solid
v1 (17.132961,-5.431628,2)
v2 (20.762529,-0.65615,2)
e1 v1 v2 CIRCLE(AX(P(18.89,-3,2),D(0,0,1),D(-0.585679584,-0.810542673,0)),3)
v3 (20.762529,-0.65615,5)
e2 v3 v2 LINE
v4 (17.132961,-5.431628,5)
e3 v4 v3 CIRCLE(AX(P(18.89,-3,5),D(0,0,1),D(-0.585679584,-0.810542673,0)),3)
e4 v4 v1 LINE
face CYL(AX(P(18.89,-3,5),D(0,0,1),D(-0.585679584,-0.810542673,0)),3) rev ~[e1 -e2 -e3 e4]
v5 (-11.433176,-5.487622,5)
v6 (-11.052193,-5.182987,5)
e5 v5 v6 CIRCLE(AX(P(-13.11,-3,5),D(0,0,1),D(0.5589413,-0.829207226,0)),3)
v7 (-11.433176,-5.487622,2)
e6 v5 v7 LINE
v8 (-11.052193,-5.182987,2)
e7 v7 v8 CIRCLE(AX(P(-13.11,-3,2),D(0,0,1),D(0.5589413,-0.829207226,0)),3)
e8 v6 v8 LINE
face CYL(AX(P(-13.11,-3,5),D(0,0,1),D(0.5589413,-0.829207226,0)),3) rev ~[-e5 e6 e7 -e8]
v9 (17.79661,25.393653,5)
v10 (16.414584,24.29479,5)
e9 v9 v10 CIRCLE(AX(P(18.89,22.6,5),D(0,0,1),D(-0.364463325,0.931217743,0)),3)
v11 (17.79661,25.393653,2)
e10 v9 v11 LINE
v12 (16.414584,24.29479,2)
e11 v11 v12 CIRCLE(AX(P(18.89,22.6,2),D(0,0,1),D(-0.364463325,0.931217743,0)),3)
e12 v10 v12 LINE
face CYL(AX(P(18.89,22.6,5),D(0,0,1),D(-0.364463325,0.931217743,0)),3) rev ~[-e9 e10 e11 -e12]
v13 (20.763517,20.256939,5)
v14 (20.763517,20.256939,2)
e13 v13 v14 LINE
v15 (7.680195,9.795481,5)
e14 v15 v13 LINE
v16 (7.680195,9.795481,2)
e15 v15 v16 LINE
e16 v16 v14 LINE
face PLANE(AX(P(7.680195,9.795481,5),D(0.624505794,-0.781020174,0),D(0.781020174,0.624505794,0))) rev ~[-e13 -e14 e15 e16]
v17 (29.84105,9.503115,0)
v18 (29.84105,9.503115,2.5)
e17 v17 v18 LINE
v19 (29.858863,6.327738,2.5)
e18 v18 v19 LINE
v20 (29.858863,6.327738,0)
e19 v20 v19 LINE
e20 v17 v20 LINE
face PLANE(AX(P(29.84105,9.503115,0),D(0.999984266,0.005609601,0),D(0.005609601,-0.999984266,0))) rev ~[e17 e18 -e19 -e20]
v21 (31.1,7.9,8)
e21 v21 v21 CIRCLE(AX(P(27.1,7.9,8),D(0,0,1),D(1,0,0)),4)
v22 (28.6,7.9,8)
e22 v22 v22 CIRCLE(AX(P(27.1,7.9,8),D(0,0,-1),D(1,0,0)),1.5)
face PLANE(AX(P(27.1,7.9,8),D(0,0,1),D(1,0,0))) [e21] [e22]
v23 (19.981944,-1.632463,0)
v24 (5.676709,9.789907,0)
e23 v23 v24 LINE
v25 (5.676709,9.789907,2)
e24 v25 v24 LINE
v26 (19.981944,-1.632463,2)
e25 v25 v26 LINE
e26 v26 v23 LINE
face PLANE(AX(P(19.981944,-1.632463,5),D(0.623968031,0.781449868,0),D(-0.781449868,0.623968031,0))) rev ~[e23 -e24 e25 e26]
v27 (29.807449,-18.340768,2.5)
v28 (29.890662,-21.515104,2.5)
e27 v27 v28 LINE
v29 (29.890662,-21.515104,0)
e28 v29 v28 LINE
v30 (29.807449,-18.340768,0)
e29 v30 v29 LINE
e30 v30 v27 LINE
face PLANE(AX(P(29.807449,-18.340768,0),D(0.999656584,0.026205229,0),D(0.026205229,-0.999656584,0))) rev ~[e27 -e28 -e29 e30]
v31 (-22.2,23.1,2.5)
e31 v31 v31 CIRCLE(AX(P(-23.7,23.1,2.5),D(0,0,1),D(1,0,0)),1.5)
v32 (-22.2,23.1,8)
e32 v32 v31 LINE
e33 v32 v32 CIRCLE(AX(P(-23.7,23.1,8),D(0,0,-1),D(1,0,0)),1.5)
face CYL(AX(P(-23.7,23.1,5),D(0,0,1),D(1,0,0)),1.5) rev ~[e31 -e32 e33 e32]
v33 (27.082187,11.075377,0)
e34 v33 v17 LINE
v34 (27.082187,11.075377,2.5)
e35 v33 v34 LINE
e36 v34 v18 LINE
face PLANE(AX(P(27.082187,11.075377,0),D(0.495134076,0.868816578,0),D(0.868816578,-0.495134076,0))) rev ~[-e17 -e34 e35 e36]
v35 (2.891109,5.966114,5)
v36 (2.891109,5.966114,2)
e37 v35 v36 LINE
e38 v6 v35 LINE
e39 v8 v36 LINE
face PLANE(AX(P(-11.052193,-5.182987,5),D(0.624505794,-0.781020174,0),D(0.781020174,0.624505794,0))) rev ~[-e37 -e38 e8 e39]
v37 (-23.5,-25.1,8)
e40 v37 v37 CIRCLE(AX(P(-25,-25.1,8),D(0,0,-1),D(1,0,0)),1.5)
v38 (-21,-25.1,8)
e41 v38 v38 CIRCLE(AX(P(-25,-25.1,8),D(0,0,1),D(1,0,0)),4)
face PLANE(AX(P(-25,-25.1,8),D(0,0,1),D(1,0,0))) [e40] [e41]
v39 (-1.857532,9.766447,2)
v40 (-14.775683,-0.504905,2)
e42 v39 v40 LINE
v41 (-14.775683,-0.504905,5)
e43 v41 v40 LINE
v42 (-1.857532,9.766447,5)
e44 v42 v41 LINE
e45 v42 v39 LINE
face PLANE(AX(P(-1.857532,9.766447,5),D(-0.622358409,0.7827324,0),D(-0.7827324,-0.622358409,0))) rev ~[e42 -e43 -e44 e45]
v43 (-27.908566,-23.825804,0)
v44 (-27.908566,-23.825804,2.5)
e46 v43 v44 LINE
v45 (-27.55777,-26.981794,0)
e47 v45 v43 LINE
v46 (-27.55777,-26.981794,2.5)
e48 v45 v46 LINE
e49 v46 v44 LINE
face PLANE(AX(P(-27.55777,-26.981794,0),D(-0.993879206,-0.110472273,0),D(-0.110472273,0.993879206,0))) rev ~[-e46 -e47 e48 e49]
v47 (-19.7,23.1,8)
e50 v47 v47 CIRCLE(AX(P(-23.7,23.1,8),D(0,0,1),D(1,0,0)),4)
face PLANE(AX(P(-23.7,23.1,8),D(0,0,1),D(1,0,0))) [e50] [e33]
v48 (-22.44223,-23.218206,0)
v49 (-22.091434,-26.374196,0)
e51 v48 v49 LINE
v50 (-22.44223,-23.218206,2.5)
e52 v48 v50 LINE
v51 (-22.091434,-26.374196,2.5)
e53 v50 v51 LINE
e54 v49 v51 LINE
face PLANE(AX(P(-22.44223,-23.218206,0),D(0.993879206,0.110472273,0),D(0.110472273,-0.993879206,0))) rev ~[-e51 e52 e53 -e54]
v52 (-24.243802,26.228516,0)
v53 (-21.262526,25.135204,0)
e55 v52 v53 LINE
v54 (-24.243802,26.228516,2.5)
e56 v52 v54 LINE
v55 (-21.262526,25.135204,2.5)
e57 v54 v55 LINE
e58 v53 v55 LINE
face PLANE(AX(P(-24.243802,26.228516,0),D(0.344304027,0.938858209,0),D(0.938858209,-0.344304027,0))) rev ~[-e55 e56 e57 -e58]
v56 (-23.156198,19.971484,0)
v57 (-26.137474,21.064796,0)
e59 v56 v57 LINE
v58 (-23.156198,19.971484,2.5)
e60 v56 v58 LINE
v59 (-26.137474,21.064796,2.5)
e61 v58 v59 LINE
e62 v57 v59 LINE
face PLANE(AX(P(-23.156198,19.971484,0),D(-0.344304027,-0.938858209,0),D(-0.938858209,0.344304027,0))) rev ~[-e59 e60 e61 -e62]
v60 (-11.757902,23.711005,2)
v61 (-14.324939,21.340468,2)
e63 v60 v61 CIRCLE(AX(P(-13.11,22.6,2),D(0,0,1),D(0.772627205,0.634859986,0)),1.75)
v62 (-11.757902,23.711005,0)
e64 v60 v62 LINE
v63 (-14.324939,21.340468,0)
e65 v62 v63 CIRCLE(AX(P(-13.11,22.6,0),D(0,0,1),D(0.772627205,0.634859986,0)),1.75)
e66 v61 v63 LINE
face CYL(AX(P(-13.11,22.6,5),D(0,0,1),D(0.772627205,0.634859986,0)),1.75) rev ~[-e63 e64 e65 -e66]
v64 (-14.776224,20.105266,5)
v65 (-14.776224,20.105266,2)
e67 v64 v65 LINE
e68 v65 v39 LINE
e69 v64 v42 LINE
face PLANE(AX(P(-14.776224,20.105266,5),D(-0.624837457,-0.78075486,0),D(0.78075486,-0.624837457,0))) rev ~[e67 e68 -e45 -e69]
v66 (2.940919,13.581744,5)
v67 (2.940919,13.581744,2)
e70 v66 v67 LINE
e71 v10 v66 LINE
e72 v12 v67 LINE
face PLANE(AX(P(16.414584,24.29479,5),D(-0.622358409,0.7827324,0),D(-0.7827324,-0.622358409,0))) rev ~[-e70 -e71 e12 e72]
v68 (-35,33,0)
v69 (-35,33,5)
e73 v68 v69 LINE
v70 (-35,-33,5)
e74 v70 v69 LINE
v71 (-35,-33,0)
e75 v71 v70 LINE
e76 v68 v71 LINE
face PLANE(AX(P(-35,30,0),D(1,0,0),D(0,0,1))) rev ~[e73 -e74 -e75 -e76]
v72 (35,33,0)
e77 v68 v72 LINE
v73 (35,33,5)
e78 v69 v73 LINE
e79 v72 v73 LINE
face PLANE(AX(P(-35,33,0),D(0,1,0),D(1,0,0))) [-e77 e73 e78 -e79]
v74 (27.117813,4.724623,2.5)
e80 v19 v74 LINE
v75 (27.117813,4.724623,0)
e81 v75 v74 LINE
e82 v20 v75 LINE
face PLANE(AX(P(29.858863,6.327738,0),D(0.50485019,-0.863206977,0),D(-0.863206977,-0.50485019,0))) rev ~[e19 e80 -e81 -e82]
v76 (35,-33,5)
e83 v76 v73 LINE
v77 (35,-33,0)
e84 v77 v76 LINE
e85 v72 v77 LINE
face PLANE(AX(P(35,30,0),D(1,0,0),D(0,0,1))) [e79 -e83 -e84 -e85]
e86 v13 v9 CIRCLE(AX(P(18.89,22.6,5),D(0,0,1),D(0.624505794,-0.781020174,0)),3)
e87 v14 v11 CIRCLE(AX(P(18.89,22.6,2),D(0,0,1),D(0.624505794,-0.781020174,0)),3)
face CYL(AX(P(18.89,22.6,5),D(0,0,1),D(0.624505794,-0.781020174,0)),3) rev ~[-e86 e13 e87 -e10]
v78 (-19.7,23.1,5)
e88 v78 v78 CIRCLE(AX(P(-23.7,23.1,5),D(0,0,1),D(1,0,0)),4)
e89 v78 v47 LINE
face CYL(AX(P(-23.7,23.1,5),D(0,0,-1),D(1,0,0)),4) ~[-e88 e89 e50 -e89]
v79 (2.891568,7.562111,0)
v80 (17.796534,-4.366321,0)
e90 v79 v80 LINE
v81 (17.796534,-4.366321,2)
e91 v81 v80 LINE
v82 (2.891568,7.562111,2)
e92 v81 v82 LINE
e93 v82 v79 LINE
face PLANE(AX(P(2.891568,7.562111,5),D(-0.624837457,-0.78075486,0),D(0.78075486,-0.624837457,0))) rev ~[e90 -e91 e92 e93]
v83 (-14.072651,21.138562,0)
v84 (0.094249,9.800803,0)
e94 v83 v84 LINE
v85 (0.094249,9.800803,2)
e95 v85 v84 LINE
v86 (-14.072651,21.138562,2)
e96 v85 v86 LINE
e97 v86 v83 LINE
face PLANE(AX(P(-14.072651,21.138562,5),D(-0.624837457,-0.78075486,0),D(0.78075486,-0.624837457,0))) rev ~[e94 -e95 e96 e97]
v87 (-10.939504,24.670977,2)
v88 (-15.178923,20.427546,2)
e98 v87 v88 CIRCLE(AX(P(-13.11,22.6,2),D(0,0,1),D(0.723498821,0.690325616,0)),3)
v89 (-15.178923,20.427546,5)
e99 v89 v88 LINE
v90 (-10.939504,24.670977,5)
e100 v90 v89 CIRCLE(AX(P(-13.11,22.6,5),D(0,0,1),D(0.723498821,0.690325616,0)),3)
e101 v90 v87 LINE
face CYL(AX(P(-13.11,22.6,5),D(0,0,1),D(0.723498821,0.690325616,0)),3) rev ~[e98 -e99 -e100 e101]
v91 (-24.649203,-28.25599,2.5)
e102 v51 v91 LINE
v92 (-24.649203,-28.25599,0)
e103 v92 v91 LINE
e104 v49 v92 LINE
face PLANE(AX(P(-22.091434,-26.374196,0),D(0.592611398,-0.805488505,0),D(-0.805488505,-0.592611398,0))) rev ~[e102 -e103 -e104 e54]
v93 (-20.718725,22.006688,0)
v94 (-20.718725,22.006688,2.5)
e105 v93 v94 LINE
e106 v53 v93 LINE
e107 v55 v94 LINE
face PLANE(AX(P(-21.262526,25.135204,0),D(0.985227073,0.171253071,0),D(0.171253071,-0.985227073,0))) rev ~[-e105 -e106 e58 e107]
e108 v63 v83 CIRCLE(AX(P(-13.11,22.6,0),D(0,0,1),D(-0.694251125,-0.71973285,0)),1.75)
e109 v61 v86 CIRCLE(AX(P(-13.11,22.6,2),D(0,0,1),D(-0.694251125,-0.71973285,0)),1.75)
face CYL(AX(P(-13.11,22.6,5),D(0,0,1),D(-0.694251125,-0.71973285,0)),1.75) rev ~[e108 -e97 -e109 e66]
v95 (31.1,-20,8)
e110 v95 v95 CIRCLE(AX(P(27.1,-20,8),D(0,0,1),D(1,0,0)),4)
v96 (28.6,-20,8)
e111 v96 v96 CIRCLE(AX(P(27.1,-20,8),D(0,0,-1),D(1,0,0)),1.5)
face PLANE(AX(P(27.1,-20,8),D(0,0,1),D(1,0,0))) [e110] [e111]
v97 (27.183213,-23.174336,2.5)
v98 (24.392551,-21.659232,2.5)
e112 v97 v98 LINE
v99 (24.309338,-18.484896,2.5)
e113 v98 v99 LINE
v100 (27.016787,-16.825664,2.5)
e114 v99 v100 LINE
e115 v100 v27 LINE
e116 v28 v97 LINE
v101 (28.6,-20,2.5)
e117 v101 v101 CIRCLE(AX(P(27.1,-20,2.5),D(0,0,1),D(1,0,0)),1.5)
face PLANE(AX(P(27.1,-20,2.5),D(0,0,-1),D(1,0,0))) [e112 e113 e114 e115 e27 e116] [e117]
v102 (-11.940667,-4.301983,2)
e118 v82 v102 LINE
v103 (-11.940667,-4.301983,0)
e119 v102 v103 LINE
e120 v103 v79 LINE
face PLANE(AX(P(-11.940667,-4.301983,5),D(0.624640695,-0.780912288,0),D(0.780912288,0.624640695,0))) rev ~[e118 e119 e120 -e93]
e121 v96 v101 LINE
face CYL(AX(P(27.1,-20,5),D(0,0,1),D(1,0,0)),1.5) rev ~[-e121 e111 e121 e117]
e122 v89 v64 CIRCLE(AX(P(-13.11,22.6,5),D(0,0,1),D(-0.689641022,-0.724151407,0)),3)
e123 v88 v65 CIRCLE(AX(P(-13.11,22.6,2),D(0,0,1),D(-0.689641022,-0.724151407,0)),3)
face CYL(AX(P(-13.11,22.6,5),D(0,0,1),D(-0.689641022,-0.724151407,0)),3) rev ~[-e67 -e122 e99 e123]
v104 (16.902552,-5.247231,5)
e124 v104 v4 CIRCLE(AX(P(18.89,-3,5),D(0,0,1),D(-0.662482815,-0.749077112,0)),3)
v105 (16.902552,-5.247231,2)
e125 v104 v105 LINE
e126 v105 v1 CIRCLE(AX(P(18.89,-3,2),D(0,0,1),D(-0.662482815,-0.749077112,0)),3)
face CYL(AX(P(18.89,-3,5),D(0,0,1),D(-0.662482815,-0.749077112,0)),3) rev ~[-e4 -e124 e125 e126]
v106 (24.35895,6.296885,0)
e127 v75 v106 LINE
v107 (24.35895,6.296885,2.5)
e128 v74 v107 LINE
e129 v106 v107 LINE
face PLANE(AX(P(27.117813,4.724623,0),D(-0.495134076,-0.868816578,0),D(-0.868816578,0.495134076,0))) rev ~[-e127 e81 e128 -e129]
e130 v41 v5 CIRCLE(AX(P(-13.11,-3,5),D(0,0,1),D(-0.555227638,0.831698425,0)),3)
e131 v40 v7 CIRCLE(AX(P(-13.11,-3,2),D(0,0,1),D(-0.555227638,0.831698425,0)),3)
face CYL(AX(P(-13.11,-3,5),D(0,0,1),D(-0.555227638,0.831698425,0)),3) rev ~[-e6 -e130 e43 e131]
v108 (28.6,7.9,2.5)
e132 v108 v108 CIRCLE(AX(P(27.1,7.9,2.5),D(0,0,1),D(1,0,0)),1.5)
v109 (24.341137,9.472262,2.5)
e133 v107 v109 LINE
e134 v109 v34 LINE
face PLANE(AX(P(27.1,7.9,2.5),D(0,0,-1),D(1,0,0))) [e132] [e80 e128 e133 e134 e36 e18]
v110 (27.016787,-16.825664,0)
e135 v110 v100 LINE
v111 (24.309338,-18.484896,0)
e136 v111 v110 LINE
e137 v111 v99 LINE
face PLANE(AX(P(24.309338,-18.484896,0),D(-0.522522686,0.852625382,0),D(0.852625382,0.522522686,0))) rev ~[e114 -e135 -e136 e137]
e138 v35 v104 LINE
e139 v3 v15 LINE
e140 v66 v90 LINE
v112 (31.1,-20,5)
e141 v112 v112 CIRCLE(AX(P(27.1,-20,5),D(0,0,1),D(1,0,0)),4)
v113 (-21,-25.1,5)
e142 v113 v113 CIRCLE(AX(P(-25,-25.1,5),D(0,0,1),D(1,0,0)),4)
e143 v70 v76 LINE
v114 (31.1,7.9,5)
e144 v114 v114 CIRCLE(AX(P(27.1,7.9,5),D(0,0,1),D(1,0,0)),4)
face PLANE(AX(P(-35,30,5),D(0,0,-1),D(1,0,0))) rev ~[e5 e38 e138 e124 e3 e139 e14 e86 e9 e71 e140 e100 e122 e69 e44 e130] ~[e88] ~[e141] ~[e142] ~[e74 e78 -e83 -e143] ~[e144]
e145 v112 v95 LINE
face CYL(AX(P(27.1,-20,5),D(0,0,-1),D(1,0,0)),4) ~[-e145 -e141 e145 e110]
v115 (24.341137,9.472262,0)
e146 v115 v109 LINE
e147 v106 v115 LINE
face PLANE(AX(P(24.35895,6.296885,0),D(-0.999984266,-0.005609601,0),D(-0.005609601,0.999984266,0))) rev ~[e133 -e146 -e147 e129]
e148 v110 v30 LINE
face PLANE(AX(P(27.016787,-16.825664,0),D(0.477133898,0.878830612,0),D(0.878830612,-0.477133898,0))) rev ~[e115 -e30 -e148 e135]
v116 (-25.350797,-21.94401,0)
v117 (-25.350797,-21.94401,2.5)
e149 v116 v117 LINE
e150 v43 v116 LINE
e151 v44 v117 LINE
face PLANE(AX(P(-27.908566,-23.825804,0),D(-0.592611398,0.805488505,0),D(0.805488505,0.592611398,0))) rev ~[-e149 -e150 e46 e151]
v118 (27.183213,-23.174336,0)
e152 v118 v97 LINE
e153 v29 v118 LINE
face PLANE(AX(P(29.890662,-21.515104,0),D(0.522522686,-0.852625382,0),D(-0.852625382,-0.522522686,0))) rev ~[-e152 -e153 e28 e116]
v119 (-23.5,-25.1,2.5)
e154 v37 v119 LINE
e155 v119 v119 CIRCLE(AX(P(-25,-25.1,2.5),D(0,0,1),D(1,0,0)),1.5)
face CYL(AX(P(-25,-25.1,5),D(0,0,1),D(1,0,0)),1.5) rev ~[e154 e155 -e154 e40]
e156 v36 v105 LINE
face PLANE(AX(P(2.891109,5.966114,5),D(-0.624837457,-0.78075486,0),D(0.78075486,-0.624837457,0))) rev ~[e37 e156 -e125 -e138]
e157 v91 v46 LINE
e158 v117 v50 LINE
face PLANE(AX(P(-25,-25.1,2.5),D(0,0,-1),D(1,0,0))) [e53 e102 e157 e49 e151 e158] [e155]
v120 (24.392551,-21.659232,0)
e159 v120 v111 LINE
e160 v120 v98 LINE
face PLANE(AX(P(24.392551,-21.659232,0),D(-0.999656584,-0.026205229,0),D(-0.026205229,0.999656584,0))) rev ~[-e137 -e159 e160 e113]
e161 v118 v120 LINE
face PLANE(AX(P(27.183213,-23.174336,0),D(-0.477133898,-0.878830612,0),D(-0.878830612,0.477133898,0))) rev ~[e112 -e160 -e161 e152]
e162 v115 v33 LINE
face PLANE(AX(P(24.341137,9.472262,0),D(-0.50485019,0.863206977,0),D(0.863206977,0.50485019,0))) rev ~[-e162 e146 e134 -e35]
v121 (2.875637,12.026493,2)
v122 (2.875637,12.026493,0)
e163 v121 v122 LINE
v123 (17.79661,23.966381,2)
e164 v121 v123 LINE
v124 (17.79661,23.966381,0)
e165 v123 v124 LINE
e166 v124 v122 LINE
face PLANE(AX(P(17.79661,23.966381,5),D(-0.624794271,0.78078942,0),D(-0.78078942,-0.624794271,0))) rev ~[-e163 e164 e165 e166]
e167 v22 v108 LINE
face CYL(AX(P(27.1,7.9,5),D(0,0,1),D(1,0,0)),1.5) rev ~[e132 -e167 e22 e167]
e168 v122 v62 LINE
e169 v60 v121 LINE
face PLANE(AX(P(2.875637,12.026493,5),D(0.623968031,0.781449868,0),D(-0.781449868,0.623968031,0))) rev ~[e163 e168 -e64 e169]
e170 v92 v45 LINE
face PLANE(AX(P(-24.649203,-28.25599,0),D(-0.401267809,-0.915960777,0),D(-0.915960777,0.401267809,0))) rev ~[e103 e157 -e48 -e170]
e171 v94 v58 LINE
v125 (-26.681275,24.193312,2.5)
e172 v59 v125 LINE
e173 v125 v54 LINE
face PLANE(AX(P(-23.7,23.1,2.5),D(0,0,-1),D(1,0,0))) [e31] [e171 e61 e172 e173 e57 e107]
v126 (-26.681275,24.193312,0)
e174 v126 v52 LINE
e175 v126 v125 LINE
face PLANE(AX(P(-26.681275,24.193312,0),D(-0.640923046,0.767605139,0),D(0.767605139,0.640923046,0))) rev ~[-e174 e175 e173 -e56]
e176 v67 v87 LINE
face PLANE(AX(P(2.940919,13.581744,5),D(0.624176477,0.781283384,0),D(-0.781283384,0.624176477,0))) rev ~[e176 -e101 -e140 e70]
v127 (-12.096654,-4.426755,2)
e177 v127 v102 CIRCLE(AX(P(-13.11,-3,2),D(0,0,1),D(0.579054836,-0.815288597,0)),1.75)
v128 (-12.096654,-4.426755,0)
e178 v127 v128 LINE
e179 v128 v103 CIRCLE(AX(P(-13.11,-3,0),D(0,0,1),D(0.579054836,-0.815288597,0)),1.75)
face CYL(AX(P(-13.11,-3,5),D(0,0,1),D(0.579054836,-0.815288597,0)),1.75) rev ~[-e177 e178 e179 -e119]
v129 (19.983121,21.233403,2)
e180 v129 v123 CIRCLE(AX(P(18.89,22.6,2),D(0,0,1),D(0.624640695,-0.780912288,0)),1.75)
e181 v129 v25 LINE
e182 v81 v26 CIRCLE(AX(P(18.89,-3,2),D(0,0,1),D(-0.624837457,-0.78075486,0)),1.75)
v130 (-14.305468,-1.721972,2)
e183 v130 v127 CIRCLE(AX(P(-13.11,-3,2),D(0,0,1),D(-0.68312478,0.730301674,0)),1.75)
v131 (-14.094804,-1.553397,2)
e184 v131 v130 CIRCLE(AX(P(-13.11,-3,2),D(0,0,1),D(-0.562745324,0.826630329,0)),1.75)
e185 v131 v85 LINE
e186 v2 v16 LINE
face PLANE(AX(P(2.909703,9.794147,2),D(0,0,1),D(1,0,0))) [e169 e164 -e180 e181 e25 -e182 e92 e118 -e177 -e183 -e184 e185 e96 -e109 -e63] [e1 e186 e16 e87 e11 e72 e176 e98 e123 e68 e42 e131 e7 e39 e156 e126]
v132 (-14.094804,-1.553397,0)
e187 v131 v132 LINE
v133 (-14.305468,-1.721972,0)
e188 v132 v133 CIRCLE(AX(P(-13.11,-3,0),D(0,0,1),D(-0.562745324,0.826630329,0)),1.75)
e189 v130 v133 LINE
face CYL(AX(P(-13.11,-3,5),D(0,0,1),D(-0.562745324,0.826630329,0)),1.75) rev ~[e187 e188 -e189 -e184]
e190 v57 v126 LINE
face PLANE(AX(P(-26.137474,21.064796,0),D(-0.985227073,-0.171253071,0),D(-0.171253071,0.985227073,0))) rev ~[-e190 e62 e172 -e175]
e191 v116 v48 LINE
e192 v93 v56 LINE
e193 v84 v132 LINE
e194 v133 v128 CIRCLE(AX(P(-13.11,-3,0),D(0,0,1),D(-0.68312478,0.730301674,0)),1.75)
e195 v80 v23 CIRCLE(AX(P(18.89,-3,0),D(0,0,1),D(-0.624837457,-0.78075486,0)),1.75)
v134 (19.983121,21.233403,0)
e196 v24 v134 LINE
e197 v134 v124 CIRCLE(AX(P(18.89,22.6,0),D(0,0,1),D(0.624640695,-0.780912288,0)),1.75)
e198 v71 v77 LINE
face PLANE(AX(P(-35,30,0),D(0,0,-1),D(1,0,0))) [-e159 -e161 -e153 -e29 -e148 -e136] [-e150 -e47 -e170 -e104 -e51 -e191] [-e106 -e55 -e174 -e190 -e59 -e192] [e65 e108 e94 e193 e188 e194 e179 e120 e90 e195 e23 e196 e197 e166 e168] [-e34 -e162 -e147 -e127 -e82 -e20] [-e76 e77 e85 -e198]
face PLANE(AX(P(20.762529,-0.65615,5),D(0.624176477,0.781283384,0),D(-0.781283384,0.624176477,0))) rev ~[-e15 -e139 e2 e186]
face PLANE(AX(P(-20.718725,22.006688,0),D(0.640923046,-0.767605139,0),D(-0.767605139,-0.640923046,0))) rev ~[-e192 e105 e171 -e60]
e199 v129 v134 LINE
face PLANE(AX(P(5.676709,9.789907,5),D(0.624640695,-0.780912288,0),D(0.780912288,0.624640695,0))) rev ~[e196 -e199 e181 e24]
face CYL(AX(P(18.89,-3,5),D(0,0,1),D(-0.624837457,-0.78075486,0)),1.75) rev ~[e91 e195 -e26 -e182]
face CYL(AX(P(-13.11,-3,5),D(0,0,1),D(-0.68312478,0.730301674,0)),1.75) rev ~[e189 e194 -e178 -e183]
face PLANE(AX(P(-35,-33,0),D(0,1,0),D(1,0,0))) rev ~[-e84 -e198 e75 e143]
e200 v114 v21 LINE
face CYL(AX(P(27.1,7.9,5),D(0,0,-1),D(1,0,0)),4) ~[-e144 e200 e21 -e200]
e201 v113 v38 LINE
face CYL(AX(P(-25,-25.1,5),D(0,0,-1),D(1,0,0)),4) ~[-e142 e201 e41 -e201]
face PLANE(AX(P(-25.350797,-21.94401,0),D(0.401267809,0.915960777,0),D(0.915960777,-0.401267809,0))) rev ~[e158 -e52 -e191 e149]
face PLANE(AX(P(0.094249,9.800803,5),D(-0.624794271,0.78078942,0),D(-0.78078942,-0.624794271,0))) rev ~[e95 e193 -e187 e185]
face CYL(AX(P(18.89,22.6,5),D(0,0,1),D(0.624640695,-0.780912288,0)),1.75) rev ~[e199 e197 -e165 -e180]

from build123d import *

# Parameters (mm, degrees)
F0_W          = 70
F0_H          = 60
F1_DEPTH      = 5
F2_R          = 4
F3_DEPTH      = 3
F4_R          = 1.5
F5_DEPTH      = 3.001
F5_DEPTH_BACK = 5
F6_DEPTH      = 3
F7_DEPTH      = 3
F9_DEPTH      = 5
F11_DEPTH     = 3
F13_DEPTH     = 2.5


with BuildPart() as f1:
    # F0 (on Top) → F1 (new body)
    with BuildSketch(Plane.XY):
        Rectangle(F0_W, F0_H)
    extrude(amount=F1_DEPTH)

    # F2 (on face) → F3 (join)
    with BuildSketch(Plane.XY.offset(5)):
        with Locations((-23.7, 23.1)):
            Circle(F2_R)
        with Locations((-25, -25.1)):
            Circle(F2_R)
        with Locations((27.1, 7.9)):
            Circle(F2_R)
        with Locations((27.1, -20)):
            Circle(F2_R)
    extrude(amount=F3_DEPTH)

    # F4 (on face) → F5 (cut, two sides)
    with BuildSketch(Plane.XY.offset(5)) as f5_sk:
        with Locations((-23.7, 23.1)):
            Circle(F4_R)
        with Locations((27.1, 7.9)):
            Circle(F4_R)
        with Locations((27.1, -20)):
            Circle(F4_R)
        with Locations((-25, -25.1)):
            Circle(F4_R)
    extrude(amount=F5_DEPTH, mode=Mode.SUBTRACT)
    extrude(f5_sk.sketch, amount=-F5_DEPTH_BACK, mode=Mode.SUBTRACT)

    # F6 (add): a face of the model
    f6_faces = [f1.faces().sort_by_distance(p)[0] for p in [
        (0, -30, 2.5),
    ]]
    extrude(f6_faces, amount=F6_DEPTH)

    # F7 (add): a face of the model
    f7_faces = [f1.faces().sort_by_distance(p)[0] for p in [
        (0, 30, 2.5),
    ]]
    extrude(f7_faces, amount=F7_DEPTH)

    # F8 (on face) → F9 (cut)
    with BuildSketch(Plane.XY.offset(5)):
        with BuildLine():
            Line((-14.3054683646, -1.7219720702), (-14.0948043176, -1.5533969252))
            ThreePointArc((-14.0948043176, -1.5533969252), (-14.2033899748, -1.6336185148), (-14.3054683646, -1.7219720702))
        make_face()
        with BuildLine():
            Line((0.0942490372, 9.8008030979), (-14.0948043176, -1.5533969252))
            Line((-14.0948043176, -1.5533969252), (-14.3054683646, -1.7219720702))
            ThreePointArc((-14.3054683646, -1.7219720702), (-14.4654537532, -4.1069079107), (-12.0966540364, -4.4267550448))
            Line((-12.0966540364, -4.4267550448), (-11.9406668878, -4.3019831308))
            Line((-11.9406668878, -4.3019831308), (2.8915675597, 7.5621114407))
            Line((2.8915675597, 7.5621114407), (17.79653445, -4.3663210058))
            ThreePointArc((17.79653445, -4.3663210058), (20.2569293491, -4.0927049714), (19.9819440544, -1.632462731))
            Line((19.9819440544, -1.632462731), (5.6767092201, 9.7899068663))
            Line((5.6767092201, 9.7899068663), (19.9831212168, 21.2334034958))
            ThreePointArc((19.9831212168, 21.2334034958), (20.2564890013, 23.6932556011), (17.7966100252, 23.9663814852))
            Line((17.7966100252, 23.9663814852), (2.875636553, 12.0264928184))
            Line((2.875636553, 12.0264928184), (-11.7579023913, 23.711004976))
            ThreePointArc((-11.7579023913, 23.711004976), (-14.2972510493, 23.8856651764), (-14.3249394698, 21.3404675134))
            Line((-14.3249394698, 21.3404675134), (-14.0726513096, 21.1385615113))
            Line((-14.0726513096, 21.1385615113), (0.0942490372, 9.8008030979))
        make_face()
        with BuildLine():
            Line((-11.9406668878, -4.3019831308), (-12.0966540364, -4.4267550448))
            ThreePointArc((-12.0966540364, -4.4267550448), (-12.0168787832, -4.3665965042), (-11.9406668878, -4.3019831308))
        make_face()
        with BuildLine():
            ThreePointArc((-14.3249394698, 21.3404675134), (-14.20346555, 21.2336789942), (-14.0726513096, 21.1385615113))
            Line((-14.0726513096, 21.1385615113), (-14.3249394698, 21.3404675134))
        make_face()
    extrude(amount=-F9_DEPTH, mode=Mode.SUBTRACT)

    # F10 (on face) → F11 (cut)
    with BuildSketch(Plane.XY.offset(5)):
        with BuildLine():
            Line((-1.8575315971, 9.7664474073), (-14.7756829148, -0.5049047258))
            ThreePointArc((-14.7756829148, -0.5049047258), (-15.6013647029, -4.6712575855), (-11.433176099, -5.4876216764))
            Line((-11.433176099, -5.4876216764), (-11.0521931213, -5.1829866811))
            Line((-11.0521931213, -5.1829866811), (2.8911088828, 5.9661144314))
            Line((2.8911088828, 5.9661144314), (16.9025515531, -5.2472313346))
            Line((16.9025515531, -5.2472313346), (17.1329612476, -5.431628019))
            ThreePointArc((17.1329612476, -5.431628019), (21.2784372428, -4.8153147212), (20.7625294306, -0.6561498487))
            Line((20.7625294306, -0.6561498487), (7.6801953311, 9.7954806055))
            Line((7.6801953311, 9.7954806055), (20.7635173832, 20.2569394769))
            ThreePointArc((20.7635173832, 20.2569394769), (21.4878080636, 24.1004643496), (17.7966100252, 25.3936532288))
            Line((17.7966100252, 25.3936532288), (16.4145835398, 24.2947900603))
            Line((16.4145835398, 24.2947900603), (2.9409192439, 13.5817439671))
            Line((2.9409192439, 13.5817439671), (-10.9395035381, 24.6709768489))
            ThreePointArc((-10.9395035381, 24.6709768489), (-15.232323279, 24.7203169337), (-15.1789230669, 20.4275457788))
            Line((-15.1789230669, 20.4275457788), (-14.7762238118, 20.1052659041))
            Line((-14.7762238118, 20.1052659041), (-1.8575315971, 9.7664474073))
        make_face()
        with BuildLine():
            Line((-11.0521931213, -5.1829866811), (-11.433176099, -5.4876216764))
            ThreePointArc((-11.433176099, -5.4876216764), (-11.2364826168, -5.3430605231), (-11.0521931213, -5.1829866811))
        make_face()
        with BuildLine():
            ThreePointArc((-15.1789230669, 20.4275457788), (-14.9845123714, 20.2577354186), (-14.7762238118, 20.1052659041))
            Line((-14.7762238118, 20.1052659041), (-15.1789230669, 20.4275457788))
        make_face()
        with BuildLine():
            Line((17.1329612476, -5.431628019), (16.9025515531, -5.2472313346))
            ThreePointArc((16.9025515531, -5.2472313346), (17.0154876286, -5.3422645814), (17.1329612476, -5.431628019))
        make_face()
        with BuildLine():
            ThreePointArc((17.7966100252, 25.3936532288), (17.0229247716, 24.9481972003), (16.4145835398, 24.2947900603))
            Line((16.4145835398, 24.2947900603), (17.7966100252, 25.3936532288))
        make_face()
    extrude(amount=-F11_DEPTH, mode=Mode.SUBTRACT)

    # F12 (on face) → F13 (cut)
    with BuildSketch(Plane(origin=(0, 0, 0), x_dir=(1, 0, 0), z_dir=(0, 0, -1))):
        Polygon((-24.6492034201, 28.2559903506), (-27.5577695278, 26.981793925), (-27.9085661076, 23.8258035744), (-25.3507965799, 21.9440096494), (-22.4422304722, 23.218206075), (-22.0914338924, 26.3741964256), align=None)
        Polygon((27.1832127793, 23.1743359883), (24.3925507836, 21.659232375), (24.3093380043, 18.4848963867), (27.0167872207, 16.8256640117), (29.8074492164, 18.340767625), (29.8906619957, 21.5151036133), align=None)
        Polygon((27.1178128759, -4.7246234814), (24.3589497063, -6.2968853377), (24.3411368304, -9.4722618563), (27.0821871241, -11.0753765186), (29.8410502937, -9.5031146623), (29.8588631696, -6.3277381437), align=None)
        Polygon((-23.1561984645, -19.9714838624), (-26.1374736836, -21.0647959868), (-26.6812752191, -24.1933121244), (-24.2438015355, -26.2285161376), (-21.2625263164, -25.1352040132), (-20.7187247809, -22.0066878756), align=None)
    extrude(amount=-F13_DEPTH, mode=Mode.SUBTRACT)


solid = f1.part
